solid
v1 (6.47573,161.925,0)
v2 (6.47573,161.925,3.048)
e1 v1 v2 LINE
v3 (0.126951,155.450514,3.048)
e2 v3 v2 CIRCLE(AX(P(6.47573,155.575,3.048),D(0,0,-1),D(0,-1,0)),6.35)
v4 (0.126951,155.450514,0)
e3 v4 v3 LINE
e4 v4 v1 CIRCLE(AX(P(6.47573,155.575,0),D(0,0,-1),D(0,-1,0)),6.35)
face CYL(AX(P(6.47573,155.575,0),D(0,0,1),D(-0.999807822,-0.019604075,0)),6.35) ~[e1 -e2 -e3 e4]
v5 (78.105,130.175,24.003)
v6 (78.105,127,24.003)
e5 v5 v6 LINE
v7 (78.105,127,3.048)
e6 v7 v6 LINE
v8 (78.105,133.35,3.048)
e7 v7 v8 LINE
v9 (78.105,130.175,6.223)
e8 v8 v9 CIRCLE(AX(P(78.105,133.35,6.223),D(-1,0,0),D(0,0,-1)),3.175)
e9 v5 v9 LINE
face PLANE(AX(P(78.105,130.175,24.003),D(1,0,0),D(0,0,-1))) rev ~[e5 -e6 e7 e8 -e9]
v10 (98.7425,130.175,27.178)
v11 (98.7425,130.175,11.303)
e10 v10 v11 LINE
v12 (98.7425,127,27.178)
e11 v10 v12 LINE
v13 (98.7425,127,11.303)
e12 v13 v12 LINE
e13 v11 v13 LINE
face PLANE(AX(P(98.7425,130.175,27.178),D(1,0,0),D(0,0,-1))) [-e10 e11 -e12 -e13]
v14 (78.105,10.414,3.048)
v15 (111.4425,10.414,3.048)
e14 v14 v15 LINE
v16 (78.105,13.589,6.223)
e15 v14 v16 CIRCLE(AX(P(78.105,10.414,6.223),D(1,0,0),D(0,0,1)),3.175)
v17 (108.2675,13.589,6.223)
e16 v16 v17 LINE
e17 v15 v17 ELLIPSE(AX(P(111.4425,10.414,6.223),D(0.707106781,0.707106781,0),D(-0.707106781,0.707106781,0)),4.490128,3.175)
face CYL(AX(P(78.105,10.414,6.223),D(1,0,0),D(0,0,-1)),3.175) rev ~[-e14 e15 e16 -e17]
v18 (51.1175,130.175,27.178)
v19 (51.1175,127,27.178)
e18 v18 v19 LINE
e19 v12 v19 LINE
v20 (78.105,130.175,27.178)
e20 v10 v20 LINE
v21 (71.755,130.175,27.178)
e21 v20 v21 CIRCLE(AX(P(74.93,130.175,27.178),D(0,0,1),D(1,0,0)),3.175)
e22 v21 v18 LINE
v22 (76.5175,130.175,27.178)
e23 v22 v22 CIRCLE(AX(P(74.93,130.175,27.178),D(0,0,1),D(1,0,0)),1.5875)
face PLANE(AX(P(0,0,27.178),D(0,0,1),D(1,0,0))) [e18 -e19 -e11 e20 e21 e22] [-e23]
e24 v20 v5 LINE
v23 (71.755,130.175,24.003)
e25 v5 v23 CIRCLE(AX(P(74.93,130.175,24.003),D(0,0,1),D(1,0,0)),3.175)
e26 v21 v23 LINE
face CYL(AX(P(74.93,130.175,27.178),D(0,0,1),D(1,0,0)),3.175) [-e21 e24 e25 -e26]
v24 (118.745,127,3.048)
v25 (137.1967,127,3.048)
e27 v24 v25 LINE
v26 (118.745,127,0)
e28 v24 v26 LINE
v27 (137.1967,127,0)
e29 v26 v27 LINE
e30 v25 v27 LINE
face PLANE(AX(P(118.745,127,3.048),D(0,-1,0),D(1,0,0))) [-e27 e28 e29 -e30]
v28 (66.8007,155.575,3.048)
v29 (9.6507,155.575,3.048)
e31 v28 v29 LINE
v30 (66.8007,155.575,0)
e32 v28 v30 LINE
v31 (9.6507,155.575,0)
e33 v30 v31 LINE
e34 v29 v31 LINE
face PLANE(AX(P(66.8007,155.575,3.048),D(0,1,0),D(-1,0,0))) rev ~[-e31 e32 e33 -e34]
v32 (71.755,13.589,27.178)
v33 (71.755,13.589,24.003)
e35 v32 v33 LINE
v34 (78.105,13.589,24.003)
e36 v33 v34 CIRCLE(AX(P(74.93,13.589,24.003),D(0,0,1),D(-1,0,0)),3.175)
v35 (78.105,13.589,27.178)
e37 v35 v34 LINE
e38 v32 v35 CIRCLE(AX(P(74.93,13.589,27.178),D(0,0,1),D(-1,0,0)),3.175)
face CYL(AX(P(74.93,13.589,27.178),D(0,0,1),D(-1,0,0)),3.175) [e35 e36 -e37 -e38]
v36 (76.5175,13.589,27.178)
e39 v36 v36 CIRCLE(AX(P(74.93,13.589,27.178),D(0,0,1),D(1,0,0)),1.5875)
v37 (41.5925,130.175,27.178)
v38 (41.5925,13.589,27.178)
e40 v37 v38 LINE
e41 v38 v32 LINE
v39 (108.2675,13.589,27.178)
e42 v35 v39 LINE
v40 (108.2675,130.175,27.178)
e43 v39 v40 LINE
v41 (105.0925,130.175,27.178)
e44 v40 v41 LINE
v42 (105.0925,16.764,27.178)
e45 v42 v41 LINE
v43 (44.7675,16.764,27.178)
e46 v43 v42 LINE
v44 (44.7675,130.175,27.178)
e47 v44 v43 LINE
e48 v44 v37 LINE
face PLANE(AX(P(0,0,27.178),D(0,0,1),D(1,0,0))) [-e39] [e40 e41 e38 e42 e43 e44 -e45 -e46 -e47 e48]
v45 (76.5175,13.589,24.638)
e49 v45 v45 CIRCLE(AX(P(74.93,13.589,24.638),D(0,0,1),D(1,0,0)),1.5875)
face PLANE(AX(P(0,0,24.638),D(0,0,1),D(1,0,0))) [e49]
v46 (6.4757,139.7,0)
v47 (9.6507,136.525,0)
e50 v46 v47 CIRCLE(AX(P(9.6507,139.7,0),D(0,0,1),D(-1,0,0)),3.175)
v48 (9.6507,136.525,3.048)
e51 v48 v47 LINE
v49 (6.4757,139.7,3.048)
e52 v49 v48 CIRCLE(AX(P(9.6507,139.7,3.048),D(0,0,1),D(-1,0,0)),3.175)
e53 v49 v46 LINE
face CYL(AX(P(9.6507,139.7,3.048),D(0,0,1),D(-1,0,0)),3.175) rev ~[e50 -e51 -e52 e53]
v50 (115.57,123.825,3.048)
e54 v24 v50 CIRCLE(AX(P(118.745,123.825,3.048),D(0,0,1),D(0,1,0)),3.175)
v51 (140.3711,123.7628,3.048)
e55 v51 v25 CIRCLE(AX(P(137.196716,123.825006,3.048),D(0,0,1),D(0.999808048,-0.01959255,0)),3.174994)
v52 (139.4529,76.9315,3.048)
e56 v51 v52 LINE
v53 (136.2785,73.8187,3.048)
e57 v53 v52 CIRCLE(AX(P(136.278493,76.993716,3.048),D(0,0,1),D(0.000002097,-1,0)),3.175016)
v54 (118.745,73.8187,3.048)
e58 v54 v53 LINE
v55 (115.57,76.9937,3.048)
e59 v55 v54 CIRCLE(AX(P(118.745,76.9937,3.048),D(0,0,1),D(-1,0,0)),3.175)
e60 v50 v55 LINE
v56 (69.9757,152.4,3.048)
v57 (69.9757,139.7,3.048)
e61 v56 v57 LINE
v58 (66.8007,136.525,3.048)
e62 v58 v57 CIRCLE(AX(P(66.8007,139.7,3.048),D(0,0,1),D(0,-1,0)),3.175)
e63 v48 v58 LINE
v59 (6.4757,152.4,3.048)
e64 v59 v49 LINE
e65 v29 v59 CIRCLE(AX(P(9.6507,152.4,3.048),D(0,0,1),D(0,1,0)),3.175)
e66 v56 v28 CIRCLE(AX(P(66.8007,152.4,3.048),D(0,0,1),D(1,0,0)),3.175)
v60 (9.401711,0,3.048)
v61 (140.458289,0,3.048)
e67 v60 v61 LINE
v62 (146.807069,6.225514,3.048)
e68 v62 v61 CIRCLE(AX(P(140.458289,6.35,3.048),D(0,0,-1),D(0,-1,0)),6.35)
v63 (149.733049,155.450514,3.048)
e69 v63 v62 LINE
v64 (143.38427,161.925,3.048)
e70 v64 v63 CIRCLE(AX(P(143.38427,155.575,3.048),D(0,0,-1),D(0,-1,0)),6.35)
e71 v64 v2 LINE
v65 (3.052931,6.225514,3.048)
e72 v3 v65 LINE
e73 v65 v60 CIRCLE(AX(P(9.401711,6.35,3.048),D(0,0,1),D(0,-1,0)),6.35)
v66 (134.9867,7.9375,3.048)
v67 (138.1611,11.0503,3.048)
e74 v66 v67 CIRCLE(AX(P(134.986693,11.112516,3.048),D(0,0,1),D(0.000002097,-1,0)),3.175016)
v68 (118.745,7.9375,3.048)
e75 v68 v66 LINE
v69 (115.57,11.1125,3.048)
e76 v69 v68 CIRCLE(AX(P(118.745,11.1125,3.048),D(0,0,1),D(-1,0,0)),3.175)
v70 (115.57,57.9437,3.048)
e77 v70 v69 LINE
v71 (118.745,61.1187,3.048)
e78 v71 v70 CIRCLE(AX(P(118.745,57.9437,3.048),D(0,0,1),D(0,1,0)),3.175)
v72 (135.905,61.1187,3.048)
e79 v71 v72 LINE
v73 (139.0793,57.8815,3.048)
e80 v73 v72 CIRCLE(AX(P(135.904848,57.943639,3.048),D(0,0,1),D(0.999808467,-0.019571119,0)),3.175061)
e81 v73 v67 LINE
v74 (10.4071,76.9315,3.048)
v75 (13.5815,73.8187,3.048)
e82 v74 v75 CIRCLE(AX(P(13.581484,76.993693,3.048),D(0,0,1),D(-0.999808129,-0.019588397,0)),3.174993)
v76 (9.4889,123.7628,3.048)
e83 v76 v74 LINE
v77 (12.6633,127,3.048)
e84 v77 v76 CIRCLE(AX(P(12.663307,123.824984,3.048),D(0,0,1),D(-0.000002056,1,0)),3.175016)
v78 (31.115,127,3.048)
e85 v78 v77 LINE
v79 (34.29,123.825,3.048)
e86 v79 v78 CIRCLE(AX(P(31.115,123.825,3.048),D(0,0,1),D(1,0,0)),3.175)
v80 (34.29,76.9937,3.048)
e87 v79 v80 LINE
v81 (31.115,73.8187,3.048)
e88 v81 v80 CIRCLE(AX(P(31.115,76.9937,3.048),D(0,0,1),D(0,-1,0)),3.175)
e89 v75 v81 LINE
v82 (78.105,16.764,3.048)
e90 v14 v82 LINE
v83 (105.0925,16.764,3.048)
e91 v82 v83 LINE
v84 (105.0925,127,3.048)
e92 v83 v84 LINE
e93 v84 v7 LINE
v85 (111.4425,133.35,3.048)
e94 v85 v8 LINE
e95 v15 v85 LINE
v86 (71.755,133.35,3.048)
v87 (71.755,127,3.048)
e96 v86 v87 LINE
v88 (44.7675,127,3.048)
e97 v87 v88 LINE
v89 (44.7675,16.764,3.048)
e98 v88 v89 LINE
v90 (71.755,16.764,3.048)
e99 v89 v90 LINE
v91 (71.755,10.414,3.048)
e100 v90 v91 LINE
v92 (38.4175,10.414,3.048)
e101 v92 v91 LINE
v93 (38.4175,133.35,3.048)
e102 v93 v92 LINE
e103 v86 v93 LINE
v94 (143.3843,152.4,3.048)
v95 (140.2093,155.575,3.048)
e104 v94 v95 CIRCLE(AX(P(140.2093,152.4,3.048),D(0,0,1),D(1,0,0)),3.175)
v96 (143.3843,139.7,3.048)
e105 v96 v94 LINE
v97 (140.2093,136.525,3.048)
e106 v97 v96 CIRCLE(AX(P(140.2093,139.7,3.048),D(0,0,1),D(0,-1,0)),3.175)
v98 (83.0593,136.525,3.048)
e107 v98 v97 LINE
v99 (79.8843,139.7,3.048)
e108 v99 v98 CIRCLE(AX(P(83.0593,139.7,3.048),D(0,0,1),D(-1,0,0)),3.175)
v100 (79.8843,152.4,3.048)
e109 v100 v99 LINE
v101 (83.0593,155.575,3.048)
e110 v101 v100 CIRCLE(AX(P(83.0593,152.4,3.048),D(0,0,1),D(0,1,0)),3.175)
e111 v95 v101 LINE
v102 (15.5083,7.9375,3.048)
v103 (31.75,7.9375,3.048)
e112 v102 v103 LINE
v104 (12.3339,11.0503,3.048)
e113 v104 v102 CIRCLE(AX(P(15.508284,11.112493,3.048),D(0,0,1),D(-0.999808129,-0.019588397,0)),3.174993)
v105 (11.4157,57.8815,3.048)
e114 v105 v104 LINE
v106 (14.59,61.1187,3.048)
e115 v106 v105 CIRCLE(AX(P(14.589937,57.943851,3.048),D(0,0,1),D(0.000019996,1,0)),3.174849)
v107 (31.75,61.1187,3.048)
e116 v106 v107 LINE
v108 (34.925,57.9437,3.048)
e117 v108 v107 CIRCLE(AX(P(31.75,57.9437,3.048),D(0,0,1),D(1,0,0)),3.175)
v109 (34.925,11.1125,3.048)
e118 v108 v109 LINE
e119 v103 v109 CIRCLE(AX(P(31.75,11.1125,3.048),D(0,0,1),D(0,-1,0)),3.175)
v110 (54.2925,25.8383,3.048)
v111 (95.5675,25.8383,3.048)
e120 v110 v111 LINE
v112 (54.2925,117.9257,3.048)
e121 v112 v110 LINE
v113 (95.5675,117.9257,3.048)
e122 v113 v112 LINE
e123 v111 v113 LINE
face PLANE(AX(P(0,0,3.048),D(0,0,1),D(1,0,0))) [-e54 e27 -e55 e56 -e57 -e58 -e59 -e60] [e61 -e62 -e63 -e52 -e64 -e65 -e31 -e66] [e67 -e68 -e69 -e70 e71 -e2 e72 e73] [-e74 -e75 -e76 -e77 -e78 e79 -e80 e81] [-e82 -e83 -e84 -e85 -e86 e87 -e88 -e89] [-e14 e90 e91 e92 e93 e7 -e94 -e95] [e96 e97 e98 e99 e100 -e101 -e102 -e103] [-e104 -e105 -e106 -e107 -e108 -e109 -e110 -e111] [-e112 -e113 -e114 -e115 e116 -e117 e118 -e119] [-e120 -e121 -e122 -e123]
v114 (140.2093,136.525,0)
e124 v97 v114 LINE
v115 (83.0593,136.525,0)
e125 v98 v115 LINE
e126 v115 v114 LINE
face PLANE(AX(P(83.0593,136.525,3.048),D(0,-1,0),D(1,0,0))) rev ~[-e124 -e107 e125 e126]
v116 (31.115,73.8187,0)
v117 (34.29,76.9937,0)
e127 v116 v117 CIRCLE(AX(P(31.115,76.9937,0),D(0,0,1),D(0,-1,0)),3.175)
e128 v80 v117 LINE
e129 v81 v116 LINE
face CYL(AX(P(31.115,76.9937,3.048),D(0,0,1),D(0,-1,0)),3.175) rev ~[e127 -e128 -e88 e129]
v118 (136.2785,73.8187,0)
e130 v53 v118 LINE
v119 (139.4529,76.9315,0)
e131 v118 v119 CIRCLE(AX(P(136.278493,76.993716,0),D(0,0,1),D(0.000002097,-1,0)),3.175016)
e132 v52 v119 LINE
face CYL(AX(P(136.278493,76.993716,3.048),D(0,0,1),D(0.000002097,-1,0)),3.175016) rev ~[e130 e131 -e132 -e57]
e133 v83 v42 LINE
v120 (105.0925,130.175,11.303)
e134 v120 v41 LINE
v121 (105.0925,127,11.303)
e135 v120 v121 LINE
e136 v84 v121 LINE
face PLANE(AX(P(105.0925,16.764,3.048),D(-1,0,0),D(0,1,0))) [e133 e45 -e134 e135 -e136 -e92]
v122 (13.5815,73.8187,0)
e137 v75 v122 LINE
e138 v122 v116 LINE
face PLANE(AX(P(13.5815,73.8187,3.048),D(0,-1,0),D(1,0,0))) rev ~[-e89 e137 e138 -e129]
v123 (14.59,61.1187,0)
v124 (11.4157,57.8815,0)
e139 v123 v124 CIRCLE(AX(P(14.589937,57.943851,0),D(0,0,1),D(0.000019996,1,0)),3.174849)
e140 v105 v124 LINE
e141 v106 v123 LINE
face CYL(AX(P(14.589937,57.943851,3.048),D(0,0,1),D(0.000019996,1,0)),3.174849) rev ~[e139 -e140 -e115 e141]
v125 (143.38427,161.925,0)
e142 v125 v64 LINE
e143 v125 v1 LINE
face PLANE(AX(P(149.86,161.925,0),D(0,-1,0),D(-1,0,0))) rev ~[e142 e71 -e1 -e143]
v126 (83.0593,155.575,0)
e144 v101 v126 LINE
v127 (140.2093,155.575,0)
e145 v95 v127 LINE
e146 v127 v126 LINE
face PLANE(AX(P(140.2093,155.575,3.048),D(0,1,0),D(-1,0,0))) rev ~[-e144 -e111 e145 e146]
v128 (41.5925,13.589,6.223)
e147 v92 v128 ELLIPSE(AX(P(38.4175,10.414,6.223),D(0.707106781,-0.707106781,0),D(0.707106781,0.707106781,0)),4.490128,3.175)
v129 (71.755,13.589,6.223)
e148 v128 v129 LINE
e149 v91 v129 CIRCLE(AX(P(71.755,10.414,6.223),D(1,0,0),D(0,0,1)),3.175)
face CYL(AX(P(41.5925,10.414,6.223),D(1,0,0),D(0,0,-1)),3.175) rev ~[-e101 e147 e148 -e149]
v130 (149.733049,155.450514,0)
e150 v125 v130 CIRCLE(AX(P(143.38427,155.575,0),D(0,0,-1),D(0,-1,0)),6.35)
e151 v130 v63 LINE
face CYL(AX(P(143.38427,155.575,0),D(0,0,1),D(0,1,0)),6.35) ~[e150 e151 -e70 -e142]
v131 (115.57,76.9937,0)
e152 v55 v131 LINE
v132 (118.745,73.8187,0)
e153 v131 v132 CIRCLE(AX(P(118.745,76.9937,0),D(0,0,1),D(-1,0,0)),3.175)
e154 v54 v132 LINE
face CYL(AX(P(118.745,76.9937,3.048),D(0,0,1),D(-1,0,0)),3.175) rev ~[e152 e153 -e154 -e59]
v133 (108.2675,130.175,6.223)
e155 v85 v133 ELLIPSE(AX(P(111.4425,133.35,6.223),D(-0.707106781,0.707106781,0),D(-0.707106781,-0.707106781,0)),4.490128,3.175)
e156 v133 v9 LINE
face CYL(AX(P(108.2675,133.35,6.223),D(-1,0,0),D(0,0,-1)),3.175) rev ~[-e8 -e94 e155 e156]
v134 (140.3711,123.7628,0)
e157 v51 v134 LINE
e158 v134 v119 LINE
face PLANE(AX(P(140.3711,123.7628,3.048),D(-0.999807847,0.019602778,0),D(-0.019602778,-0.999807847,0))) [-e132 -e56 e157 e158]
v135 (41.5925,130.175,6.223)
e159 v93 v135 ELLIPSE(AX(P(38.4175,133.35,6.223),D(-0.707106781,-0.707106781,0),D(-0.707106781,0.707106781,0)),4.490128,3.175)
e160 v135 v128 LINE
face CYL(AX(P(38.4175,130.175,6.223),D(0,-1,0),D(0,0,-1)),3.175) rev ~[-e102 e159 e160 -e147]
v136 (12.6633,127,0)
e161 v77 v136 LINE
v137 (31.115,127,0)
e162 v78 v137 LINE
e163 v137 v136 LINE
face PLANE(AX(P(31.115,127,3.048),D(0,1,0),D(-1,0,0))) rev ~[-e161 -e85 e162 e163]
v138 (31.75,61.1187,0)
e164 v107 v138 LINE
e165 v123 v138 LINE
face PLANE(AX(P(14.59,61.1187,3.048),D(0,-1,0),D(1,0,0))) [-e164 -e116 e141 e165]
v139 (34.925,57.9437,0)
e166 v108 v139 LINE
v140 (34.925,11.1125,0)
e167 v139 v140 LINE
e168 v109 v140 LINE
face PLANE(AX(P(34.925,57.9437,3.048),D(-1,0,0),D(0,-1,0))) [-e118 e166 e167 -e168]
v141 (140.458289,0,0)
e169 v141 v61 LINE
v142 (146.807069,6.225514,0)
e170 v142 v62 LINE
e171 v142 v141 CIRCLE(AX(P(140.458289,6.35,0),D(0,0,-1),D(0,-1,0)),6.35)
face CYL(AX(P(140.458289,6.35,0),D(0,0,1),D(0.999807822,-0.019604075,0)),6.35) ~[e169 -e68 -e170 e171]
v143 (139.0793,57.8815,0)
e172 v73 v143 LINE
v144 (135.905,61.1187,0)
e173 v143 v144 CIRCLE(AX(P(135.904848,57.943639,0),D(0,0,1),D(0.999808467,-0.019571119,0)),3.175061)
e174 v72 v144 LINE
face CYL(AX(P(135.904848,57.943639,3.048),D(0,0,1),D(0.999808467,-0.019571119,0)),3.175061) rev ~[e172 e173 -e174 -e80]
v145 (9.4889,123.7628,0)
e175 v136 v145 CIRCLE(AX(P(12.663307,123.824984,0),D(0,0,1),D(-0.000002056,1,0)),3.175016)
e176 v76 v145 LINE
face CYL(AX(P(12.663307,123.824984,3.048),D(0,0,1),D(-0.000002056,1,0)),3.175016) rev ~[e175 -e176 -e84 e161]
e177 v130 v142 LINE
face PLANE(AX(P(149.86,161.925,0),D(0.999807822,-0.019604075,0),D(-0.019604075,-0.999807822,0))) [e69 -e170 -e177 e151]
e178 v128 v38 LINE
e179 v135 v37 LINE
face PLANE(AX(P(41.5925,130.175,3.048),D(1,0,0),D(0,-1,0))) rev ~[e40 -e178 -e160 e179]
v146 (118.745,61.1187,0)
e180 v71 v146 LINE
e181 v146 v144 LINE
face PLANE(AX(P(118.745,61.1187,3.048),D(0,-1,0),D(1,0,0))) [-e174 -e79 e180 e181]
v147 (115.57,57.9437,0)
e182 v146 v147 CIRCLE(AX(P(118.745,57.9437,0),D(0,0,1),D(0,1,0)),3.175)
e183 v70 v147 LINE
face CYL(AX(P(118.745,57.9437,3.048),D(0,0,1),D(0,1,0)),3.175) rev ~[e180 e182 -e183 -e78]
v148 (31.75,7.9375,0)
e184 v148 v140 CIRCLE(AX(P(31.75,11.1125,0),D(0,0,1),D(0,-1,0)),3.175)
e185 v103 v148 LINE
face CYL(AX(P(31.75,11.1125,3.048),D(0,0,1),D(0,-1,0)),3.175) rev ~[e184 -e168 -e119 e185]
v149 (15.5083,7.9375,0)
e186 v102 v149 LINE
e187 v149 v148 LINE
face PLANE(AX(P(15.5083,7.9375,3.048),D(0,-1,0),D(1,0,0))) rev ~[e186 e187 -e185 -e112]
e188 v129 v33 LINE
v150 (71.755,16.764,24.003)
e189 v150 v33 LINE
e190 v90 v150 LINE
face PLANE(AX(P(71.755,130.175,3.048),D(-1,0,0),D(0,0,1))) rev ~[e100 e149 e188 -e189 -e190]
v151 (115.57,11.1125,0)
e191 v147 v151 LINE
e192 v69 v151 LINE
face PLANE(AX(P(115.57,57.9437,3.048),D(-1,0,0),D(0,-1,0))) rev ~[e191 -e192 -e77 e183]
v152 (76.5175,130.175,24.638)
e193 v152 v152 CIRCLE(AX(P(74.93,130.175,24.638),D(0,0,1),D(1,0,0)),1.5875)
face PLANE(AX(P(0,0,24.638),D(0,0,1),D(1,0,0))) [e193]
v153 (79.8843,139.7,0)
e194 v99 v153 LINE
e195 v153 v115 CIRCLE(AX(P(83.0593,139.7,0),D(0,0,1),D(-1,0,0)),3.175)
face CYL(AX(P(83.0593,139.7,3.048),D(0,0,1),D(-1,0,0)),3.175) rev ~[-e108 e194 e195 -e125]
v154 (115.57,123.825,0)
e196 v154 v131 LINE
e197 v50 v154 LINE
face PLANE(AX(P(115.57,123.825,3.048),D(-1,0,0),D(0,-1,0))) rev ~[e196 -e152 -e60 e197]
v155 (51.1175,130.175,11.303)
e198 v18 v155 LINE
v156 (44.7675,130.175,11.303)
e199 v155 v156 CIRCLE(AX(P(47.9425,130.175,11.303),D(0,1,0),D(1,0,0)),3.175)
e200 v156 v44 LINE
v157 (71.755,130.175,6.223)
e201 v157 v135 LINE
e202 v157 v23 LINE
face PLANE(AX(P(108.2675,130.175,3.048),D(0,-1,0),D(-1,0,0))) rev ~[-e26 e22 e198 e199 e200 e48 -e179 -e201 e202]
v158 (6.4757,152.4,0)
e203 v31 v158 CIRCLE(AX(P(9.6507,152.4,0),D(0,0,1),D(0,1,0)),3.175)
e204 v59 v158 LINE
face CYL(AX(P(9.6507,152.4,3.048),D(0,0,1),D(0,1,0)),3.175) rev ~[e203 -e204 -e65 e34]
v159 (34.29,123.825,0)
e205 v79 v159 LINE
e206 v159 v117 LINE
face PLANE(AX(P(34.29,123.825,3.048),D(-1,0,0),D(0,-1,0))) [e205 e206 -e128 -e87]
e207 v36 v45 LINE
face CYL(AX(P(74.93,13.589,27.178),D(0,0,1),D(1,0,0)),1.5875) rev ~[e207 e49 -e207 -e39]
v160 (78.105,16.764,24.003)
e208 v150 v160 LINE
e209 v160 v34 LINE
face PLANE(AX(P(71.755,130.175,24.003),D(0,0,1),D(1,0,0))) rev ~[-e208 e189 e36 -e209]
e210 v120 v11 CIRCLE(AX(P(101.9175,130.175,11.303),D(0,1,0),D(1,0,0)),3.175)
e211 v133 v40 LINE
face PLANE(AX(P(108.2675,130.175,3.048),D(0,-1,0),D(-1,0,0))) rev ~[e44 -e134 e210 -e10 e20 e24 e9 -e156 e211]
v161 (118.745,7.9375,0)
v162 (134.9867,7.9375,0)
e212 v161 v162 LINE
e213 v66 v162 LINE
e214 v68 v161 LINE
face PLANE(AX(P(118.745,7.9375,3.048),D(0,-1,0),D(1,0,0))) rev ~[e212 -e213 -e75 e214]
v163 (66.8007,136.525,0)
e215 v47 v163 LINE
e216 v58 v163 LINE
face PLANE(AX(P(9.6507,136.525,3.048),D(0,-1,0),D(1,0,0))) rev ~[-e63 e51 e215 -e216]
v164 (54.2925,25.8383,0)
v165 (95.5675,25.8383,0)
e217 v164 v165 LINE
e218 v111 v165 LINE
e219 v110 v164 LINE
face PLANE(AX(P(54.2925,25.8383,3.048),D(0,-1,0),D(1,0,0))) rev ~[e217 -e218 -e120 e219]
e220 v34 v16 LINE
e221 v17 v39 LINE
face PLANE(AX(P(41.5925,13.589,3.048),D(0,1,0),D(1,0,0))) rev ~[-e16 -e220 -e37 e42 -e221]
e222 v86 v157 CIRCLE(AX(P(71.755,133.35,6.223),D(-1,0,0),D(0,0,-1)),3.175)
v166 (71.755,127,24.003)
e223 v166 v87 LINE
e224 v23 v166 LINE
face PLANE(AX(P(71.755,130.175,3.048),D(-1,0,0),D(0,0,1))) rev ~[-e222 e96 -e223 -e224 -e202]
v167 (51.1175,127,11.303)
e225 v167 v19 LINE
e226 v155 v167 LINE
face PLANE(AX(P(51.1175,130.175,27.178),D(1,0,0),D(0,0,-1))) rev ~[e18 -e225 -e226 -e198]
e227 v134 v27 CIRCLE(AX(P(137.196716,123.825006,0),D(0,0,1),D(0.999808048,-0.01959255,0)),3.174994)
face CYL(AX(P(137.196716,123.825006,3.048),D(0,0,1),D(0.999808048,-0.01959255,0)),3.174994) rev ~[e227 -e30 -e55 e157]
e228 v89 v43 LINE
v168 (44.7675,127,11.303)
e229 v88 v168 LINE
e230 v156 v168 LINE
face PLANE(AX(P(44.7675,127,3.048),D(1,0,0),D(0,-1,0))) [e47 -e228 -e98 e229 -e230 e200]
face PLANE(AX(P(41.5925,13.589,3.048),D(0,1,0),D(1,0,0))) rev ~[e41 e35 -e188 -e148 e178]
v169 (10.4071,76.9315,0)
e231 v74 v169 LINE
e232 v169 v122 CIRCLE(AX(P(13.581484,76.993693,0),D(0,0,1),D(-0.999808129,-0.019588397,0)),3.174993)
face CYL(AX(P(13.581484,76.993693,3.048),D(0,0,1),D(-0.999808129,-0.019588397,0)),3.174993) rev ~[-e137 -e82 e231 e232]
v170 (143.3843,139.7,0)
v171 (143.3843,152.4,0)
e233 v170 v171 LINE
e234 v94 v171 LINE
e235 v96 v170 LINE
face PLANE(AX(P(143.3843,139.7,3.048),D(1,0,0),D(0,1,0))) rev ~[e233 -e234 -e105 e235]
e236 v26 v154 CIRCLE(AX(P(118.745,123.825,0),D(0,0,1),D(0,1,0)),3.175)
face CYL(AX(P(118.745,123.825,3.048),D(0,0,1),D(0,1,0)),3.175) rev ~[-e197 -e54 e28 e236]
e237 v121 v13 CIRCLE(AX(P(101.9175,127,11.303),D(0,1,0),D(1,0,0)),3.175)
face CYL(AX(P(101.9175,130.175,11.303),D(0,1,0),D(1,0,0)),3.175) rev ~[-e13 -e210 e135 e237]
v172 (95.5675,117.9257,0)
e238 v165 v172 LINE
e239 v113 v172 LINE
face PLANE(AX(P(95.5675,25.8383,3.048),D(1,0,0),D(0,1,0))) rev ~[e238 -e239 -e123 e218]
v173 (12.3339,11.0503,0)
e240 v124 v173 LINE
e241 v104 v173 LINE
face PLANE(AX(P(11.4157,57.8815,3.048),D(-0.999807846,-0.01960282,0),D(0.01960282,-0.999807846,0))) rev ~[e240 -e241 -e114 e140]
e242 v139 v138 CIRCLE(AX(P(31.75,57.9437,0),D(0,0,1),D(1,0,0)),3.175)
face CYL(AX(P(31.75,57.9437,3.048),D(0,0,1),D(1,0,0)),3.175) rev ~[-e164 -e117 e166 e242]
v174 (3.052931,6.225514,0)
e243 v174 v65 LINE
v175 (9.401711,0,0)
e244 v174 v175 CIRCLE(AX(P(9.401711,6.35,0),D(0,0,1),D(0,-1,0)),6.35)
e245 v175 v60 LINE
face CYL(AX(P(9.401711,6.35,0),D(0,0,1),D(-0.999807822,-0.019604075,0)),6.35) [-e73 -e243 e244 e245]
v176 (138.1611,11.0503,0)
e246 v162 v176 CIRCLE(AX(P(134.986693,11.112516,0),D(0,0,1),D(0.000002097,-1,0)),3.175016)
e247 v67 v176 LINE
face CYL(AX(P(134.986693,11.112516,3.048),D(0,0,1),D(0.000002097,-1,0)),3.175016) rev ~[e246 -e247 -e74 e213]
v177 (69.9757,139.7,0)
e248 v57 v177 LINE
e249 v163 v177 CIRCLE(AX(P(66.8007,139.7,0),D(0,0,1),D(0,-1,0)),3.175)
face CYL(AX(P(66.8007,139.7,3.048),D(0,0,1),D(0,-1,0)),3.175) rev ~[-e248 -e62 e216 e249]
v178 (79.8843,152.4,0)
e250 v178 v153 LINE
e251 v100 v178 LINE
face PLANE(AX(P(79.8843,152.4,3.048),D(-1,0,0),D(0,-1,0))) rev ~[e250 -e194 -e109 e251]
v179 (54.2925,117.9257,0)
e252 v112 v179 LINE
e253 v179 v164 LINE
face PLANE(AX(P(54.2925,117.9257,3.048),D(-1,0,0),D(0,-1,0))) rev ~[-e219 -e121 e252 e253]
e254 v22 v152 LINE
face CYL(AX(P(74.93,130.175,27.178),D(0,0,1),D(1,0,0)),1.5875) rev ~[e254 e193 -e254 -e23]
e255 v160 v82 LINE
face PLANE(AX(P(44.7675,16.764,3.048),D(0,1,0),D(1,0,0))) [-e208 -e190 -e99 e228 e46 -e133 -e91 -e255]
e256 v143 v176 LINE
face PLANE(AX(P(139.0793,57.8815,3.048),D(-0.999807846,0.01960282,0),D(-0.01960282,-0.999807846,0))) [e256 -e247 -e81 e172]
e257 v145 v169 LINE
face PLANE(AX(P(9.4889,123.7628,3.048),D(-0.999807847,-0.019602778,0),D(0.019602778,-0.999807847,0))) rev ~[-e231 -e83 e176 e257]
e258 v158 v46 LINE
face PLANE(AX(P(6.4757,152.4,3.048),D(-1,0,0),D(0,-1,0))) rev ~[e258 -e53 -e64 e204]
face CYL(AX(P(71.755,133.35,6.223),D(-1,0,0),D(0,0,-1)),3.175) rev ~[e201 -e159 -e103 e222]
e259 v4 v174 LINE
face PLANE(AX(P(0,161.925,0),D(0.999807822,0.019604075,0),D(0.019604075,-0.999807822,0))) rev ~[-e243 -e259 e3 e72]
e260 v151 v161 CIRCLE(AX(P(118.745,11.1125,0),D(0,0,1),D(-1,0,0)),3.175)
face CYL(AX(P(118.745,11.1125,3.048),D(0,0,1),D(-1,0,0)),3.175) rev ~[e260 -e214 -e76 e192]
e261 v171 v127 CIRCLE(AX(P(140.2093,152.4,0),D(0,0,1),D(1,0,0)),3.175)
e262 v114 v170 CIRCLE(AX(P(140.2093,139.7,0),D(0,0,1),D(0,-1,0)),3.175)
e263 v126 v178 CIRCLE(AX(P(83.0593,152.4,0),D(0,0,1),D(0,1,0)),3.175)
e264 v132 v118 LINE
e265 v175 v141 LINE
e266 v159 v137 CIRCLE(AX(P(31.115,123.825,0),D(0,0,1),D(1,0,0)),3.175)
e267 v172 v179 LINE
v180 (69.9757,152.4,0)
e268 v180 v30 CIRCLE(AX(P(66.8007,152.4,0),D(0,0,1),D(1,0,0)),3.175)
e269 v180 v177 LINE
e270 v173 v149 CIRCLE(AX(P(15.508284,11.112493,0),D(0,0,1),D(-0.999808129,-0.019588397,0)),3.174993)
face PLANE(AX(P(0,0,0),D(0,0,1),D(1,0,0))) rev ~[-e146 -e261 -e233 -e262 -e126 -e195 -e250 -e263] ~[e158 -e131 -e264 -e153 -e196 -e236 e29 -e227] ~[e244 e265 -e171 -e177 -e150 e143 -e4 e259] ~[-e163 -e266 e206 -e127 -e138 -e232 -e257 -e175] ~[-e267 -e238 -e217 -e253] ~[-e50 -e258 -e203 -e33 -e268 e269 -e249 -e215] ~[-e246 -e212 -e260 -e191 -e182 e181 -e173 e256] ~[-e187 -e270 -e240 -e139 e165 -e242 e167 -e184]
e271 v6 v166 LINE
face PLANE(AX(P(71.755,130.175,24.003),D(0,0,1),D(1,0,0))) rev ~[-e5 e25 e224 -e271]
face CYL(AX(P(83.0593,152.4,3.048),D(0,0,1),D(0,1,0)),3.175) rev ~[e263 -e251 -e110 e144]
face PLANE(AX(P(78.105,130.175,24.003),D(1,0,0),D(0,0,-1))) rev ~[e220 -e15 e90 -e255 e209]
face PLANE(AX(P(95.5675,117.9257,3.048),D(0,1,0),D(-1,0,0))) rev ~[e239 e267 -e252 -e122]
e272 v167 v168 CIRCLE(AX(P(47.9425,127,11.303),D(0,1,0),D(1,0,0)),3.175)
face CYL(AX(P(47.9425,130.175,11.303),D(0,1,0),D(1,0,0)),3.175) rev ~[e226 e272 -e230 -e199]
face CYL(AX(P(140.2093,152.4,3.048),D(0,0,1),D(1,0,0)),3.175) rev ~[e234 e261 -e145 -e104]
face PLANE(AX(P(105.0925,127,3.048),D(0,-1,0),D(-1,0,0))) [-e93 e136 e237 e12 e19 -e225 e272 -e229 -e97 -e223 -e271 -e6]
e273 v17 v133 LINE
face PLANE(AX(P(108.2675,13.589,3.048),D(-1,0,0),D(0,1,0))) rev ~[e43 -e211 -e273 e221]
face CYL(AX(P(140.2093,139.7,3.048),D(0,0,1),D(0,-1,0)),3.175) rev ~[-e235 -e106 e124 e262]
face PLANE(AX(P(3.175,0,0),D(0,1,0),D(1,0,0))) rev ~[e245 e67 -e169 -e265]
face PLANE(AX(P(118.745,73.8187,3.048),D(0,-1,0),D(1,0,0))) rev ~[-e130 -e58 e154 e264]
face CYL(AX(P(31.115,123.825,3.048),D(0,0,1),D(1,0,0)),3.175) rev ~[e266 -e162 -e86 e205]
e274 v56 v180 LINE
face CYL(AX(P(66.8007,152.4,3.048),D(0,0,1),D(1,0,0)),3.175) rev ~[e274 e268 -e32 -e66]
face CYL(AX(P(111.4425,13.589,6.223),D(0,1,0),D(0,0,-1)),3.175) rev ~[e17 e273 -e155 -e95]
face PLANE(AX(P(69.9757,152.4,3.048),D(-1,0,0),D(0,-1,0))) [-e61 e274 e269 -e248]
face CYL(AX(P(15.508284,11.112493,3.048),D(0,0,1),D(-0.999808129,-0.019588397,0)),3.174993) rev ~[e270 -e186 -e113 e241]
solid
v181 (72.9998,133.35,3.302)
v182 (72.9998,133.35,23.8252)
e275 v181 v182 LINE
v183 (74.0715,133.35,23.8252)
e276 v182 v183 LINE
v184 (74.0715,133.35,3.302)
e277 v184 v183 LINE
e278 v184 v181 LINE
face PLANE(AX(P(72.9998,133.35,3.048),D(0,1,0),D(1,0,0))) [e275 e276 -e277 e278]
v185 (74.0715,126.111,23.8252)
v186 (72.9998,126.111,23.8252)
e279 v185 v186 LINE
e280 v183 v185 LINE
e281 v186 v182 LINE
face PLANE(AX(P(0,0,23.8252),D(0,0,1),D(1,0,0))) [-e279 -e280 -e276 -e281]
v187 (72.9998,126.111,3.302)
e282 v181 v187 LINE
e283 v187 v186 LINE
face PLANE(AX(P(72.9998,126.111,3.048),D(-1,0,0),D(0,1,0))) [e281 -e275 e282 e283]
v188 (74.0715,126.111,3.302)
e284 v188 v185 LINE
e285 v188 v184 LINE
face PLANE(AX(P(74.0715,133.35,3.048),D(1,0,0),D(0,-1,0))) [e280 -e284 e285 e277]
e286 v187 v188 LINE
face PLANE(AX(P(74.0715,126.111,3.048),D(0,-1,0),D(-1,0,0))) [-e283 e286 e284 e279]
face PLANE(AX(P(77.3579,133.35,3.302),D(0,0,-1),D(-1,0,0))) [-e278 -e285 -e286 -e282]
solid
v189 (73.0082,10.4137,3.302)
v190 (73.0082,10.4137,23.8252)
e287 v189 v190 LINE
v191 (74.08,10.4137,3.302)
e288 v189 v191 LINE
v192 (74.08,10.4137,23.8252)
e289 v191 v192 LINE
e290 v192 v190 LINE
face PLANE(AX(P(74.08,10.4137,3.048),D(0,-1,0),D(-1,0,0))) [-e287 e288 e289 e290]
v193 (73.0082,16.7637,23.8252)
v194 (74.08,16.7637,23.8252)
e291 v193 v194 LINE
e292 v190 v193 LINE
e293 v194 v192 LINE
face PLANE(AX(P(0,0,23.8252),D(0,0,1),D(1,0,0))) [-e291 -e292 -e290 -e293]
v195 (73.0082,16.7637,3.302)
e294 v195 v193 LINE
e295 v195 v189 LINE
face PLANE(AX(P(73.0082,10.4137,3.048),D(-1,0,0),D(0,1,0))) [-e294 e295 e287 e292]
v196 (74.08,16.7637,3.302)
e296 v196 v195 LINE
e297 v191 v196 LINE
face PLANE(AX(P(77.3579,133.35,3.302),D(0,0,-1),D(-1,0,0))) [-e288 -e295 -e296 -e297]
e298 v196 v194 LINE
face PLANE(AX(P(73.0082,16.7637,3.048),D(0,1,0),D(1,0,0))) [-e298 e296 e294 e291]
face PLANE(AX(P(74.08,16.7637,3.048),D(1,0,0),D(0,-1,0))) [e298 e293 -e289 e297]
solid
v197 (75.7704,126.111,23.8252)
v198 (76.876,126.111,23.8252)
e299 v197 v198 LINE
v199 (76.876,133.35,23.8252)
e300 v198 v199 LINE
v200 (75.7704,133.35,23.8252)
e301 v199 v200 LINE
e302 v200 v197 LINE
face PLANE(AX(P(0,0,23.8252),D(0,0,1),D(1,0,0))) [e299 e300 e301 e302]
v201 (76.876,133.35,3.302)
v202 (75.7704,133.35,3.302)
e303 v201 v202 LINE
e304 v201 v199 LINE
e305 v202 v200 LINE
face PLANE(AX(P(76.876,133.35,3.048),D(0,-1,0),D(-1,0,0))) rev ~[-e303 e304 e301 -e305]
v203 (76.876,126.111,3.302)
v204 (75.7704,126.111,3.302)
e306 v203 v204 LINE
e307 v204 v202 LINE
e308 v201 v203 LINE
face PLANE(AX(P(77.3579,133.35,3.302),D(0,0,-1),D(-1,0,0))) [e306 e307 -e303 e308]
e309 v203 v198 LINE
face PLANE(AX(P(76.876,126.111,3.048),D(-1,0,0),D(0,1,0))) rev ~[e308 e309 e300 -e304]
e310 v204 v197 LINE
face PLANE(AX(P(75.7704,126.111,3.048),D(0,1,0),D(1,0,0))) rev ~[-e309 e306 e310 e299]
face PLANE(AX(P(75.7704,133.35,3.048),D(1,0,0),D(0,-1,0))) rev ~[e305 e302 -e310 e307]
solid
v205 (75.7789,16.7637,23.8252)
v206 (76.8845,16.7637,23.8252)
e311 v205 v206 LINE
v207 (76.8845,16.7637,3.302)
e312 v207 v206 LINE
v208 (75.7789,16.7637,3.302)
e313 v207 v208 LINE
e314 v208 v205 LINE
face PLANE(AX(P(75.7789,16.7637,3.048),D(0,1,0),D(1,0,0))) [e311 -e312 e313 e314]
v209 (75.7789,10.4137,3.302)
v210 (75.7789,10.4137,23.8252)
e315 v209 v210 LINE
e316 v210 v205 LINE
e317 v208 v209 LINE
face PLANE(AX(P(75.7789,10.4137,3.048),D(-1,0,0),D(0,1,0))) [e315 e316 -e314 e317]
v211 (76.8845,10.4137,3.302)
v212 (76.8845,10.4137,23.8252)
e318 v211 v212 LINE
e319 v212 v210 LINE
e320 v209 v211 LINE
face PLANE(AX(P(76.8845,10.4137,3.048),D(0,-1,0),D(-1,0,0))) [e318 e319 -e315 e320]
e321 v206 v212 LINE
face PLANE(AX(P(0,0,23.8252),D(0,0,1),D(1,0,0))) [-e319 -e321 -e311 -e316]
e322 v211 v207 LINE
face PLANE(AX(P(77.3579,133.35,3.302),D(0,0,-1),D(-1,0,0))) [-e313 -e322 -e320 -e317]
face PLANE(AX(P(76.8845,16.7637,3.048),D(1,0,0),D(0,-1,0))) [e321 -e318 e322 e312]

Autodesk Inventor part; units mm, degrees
ref_plane "YZ Plane" through (0, 0, 0) normal (1, 0, 0) x (0, 1, 0)
ref_plane "XZ Plane" through (0, 0, 0) normal (0, 1, 0) x (-1, 0, 0)
ref_plane "XY Plane" through (0, 0, 0) normal (0, 0, 1) x (1, 0, 0)
sketch "Sketch1" plane through (0, 0, 0) normal (0, 0, 1) x (1, 0, 0)
  line L0 (3.175, 0) -> (146.685, 0)
  line L1 (149.86, 161.925) -> (0, 161.925)
  line L2 (0, 161.925) -> (3.175, 0)
  line L3 (149.86, 161.925) -> (146.685, 0)
  point P0 (0, 0)
  dimension "d74" = 161.925
  dimension "d75" = 143.51
  dimension "d76" = 149.86
extrude "Extrusion1" add sketch "Sketch1" along normal blind 3.048
fillet "Fillet1" radius 6.35 3 edges at (149.86, 161.925, 1.524) (146.685, 0, 1.524) (0, 161.925, 1.524)
sketch "Sketch4" plane through (0, 0, 3.048) normal (0, 0, 1) x (1, 0, 0)
  line L0 (44.7675, 16.764) -> (105.0925, 16.764)
  line L1 (105.0925, 16.764) -> (105.0925, 127)
  line L2 (105.0925, 127) -> (44.7675, 127)
  line L3 (44.7675, 127) -> (44.7675, 16.764)
  line L4 (44.7675, 16.764) -> (105.0925, 127) construction
  line L5 (105.0925, 16.764) -> (44.7675, 127) construction
  line L6 (41.5925, 13.589) -> (108.2675, 13.589)
  line L7 (108.2675, 13.589) -> (108.2675, 130.175)
  line L8 (108.2675, 130.175) -> (41.5925, 130.175)
  line L9 (41.5925, 130.175) -> (41.5925, 13.589)
  line L10 (193.675, 0) -> (193.675, 12.7)
  line L11 (3.175, 0) -> (140.4583, 0) projected
  point P0 (0, 0)
  dimension "d12" = 110.236
  dimension "d50" = 3.175
  dimension "d51" = 3.175
  dimension "d52" = 3.175
  dimension "d67" = 3.175
  dimension "d78" = 66.675
  dimension "d126" = 13.589
extrude "Extrusion4" add sketch "Sketch4" along normal blind 24.13
sketch "Sketch5" plane through (0, 0, 27.178) normal (0, 0, 1) x (1, 0, 0)
  line L0 (41.5925, 13.589) -> (108.2675, 13.589) projected
  line L1 (108.2675, 130.175) -> (41.5925, 130.175) projected
  arc A0 (78.105, 130.175) -> (71.755, 130.175) centre (74.93, 130.175) ccw
  arc A1 (71.755, 13.589) -> (78.105, 13.589) centre (74.93, 13.589) ccw
  point P0 (0, 0)
  dimension "d127" = 3.175
extrude "Extrusion5" add sketch "Sketch5" against normal blind 3.175
sketch "Sketch6" plane through (41.5925, 130.175, 3.048) normal (0, 1, 0) x (1, 0, 0)
  line L0 (0, 0) -> (66.675, 0) projected
  line L1 (30.1625, -20.955) -> (36.5125, -20.955)
  line L2 (36.5125, -20.955) -> (36.5125, 0)
  line L3 (36.5125, 0) -> (30.1625, 0)
  line L4 (30.1625, 0) -> (30.1625, -20.955)
  point P0 (-41.5925, 3.048)
extrude "Extrusion6" cut sketch "Sketch6" against normal blind 127
sketch "Sketch9" plane through (0, 0, 27.178) normal (0, 0, 1) x (1, 0, 0)
  arc A0 (71.755, 13.589) -> (78.105, 13.589) centre (74.93, 13.589) ccw projected
  arc A1 (78.105, 130.175) -> (71.755, 130.175) centre (74.93, 130.175) ccw projected
  circle A2 centre (74.93, 130.175) radius 1.5875
  circle A3 centre (74.93, 13.589) radius 1.5875
  point P0 (0, 0)
extrude "Extrusion9" cut sketch "Sketch9" against normal blind 2.54
sketch "Sketch10" plane through (108.2675, 130.175, 27.178) normal (0, 1, 0) x (1, 0, 0)
  line L0 (0, 0) -> (-30.1625, 0) projected
  line L1 (-3.175, 0) -> (-9.525, 0)
  line L2 (-9.525, 0) -> (-9.525, 15.875)
  line L3 (-6.35, 22.225) -> (-6.35, 22.225)
  line L4 (-3.175, 15.875) -> (-3.175, 0)
  line L5 (-63.5, 0) -> (-57.15, 0)
  line L6 (-57.15, 0) -> (-57.15, 15.875)
  line L7 (-60.325, 22.225) -> (-60.325, 22.225)
  line L8 (-63.5, 15.875) -> (-63.5, 0)
  arc A0 (-57.15, 15.875) -> (-63.5, 15.875) centre (-60.325, 15.875) ccw
  arc A1 (-3.175, 15.875) -> (-9.525, 15.875) centre (-6.35, 15.875) ccw
  point P0 (-108.2675, 27.178)
extrude "Extrusion10" cut sketch "Sketch10" against normal blind 25.4
fillet "Fillet3" radius 3.175 6 edges at (93.1863, 130.175, 3.048) (56.6738, 130.175, 3.048) (108.2675, 71.882, 3.048) (93.1863, 13.589, 3.048) (56.6738, 13.589, 3.048) (41.5925, 71.882, 3.048)
sketch "Sketch15" plane through (0, 0, 3.048) normal (0, 0, 1) x (1, 0, 0)
  line L0 (72.9998, 133.35) -> (74.0715, 133.35)
  line L1 (74.0715, 133.35) -> (74.0715, 126.111)
  line L2 (74.0715, 126.111) -> (72.9998, 126.111)
  line L3 (72.9998, 126.111) -> (72.9998, 133.35)
  line L4 (76.876, 133.35) -> (75.7704, 133.35)
  line L5 (75.7704, 133.35) -> (75.7704, 126.111)
  line L6 (75.7704, 126.111) -> (76.876, 126.111)
  line L7 (76.876, 126.111) -> (76.876, 133.35)
  line L8 (73.0082, 16.7637) -> (74.08, 16.7637)
  line L9 (74.08, 16.7637) -> (74.08, 10.4137)
  line L10 (74.08, 10.4137) -> (73.0082, 10.4137)
  line L11 (73.0082, 10.4137) -> (73.0082, 16.7637)
  line L12 (76.8845, 10.4137) -> (75.7789, 10.4137)
  line L13 (75.7789, 10.4137) -> (75.7789, 16.7637)
  line L14 (75.7789, 16.7637) -> (76.8845, 16.7637)
  line L15 (76.8845, 16.7637) -> (76.8845, 10.4137)
  point P0 (0, 0)
extrude "Extrusion15" add sketch "Sketch15" along normal blind 20.7772
sketch "Sketch16" plane through (75.7704, 133.35, 3.048) normal (0, 1, 0) x (1, 0, 0)
  line L0 (-3.175, 0) -> (1.5875, 0)
  line L1 (1.5875, 0) -> (1.5875, -0.254)
  line L2 (1.5875, -0.254) -> (-3.175, -0.254)
  line L3 (-3.175, -0.254) -> (-3.175, 0)
  point P0 (-75.7704, 3.048)
  dimension "d58" = 0.254
extrude "Extrusion16" cut sketch "Sketch16" against normal blind 127
fillet "Fillet4" radius 6.35 1 edges at (3.175, 0, 1.524)
sketch "Sketch19" plane through (0, 0, 3.048) normal (0, 0, 1) x (1, 0, 0)
  line L0 (54.2925, 25.8383) -> (95.5675, 25.8383)
  line L1 (95.5675, 25.8383) -> (95.5675, 117.9257)
  line L2 (95.5675, 117.9257) -> (54.2925, 117.9257)
  line L3 (54.2925, 117.9257) -> (54.2925, 25.8383)
  line L4 (54.2925, 25.8383) -> (95.5675, 117.9257) construction
  line L5 (95.5675, 25.8383) -> (54.2925, 117.9257) construction
  point P0 (0, 0)
  point P1 (74.93, 71.882)
extrude "Extrusion18" cut sketch "Sketch19" against normal blind 3.048
sketch "Sketch21" plane through (0, 0, 3.048) normal (0, 0, 1) x (1, 0, 0)
  arc A0 (149.733, 155.4505) -> (143.3843, 161.925) centre (143.3843, 155.575) ccw projected
  line L0 (143.3843, 139.7) -> (143.3843, 152.4)
  line L1 (6.4757, 152.4) -> (6.4757, 139.7)
  line L2 (79.8843, 152.4) -> (79.8843, 139.7)
  line L3 (69.9757, 152.4) -> (69.9757, 139.7)
  line L4 (140.2093, 155.575) -> (83.0593, 155.575)
  line L5 (66.8007, 155.575) -> (9.6507, 155.575)
  line L6 (9.6507, 136.525) -> (66.8007, 136.525)
  line L7 (83.0593, 136.525) -> (140.2093, 136.525)
  arc A1 (9.6507, 155.575) -> (6.4757, 152.4) centre (9.6507, 152.4) ccw
  arc A2 (6.4757, 139.7) -> (9.6507, 136.525) centre (9.6507, 139.7) ccw
  arc A3 (66.8007, 136.525) -> (69.9757, 139.7) centre (66.8007, 139.7) ccw
  arc A4 (69.9757, 152.4) -> (66.8007, 155.575) centre (66.8007, 152.4) ccw
  arc A5 (83.0593, 155.575) -> (79.8843, 152.4) centre (83.0593, 152.4) ccw
  arc A6 (79.8843, 139.7) -> (83.0593, 136.525) centre (83.0593, 139.7) ccw
  arc A7 (140.2093, 136.525) -> (143.3843, 139.7) centre (140.2093, 139.7) ccw
  arc A8 (143.3843, 152.4) -> (140.2093, 155.575) centre (140.2093, 152.4) ccw
  point P0 (0, 0)
  dimension "d97" = 3.175
  dimension "d111" = 19.05
  dimension "d112" = 19.05
  dimension "d113" = 63.5
  dimension "d114" = 63.5
extrude "Extrusion20" cut sketch "Sketch21" against normal blind 3.048
sketch "Sketch22" plane through (0, 0, 3.048) normal (0, 0, 1) x (1, 0, 0)
  line L0 (66.8007, 136.525) -> (9.6507, 136.525) projected
  line L1 (146.8071, 6.2255) -> (149.733, 155.4505) projected
  line L2 (0.127, 155.4505) -> (3.0529, 6.2255) projected
  line L3 (31.115, 127) -> (12.6633, 127)
  line L4 (118.745, 127) -> (137.1967, 127)
  line L5 (15.5083, 7.9375) -> (31.75, 7.9375)
  line L6 (118.745, 7.9375) -> (134.9867, 7.9375)
  line L7 (13.5815, 73.8187) -> (31.115, 73.8187)
  line L8 (14.59, 61.1187) -> (31.75, 61.1187)
  line L9 (118.745, 61.1187) -> (135.905, 61.1187)
  line L10 (118.745, 73.8187) -> (136.2785, 73.8187)
  line L11 (9.4889, 123.7628) -> (10.4071, 76.9315)
  line L12 (11.4157, 57.8815) -> (12.3339, 11.0503)
  line L13 (34.29, 123.825) -> (34.29, 76.9937)
  line L14 (34.925, 57.9437) -> (34.925, 11.1125)
  line L15 (115.57, 123.825) -> (115.57, 76.9937)
  line L16 (115.57, 57.9437) -> (115.57, 11.1125)
  line L17 (140.3711, 123.7628) -> (139.4529, 76.9315)
  line L18 (139.0793, 57.8815) -> (138.1611, 11.0503)
  arc A0 (12.6633, 127) -> (9.4889, 123.7628) centre (12.6633, 123.825) ccw
  arc A1 (34.29, 123.825) -> (31.115, 127) centre (31.115, 123.825) ccw
  arc A2 (34.925, 57.9437) -> (31.75, 61.1187) centre (31.75, 57.9437) ccw
  arc A3 (14.59, 61.1187) -> (11.4157, 57.8815) centre (14.59, 57.9437) ccw
  arc A4 (12.3339, 11.0503) -> (15.5083, 7.9375) centre (15.5083, 11.1125) ccw
  arc A5 (31.75, 7.9375) -> (34.925, 11.1125) centre (31.75, 11.1125) ccw
  arc A6 (115.57, 11.1125) -> (118.745, 7.9375) centre (118.745, 11.1125) ccw
  arc A7 (134.9867, 7.9375) -> (138.1611, 11.0503) centre (134.9867, 11.1125) ccw
  arc A8 (139.0793, 57.8815) -> (135.905, 61.1187) centre (135.905, 57.9437) ccw
  arc A9 (118.745, 61.1187) -> (115.57, 57.9437) centre (118.745, 57.9437) ccw
  arc A10 (115.57, 76.9937) -> (118.745, 73.8187) centre (118.745, 76.9937) ccw
  arc A11 (136.2785, 73.8187) -> (139.4529, 76.9315) centre (136.2785, 76.9937) ccw
  arc A12 (140.3711, 123.7628) -> (137.1967, 127) centre (137.1967, 123.825) ccw
  arc A13 (118.745, 127) -> (115.57, 123.825) centre (118.745, 123.825) ccw
  arc A14 (31.115, 73.8187) -> (34.29, 76.9937) centre (31.115, 76.9937) ccw
  arc A15 (10.4071, 76.9315) -> (13.5815, 73.8187) centre (13.5815, 76.9937) ccw
  line L19 (38.4175, 133.35) -> (38.4175, 10.414) projected
  line L20 (111.4425, 10.414) -> (111.4425, 133.35) projected
  point P0 (0, 0)
  dimension "d107" = 3.175
  dimension "d108" = 3.175
  dimension "d122" = 4.1275
  dimension "d123" = 4.1275
  dimension "d124" = 4.1275
extrude "Extrusion21" cut sketch "Sketch22" against normal blind 3.048
properties part number "control pod layer b"
